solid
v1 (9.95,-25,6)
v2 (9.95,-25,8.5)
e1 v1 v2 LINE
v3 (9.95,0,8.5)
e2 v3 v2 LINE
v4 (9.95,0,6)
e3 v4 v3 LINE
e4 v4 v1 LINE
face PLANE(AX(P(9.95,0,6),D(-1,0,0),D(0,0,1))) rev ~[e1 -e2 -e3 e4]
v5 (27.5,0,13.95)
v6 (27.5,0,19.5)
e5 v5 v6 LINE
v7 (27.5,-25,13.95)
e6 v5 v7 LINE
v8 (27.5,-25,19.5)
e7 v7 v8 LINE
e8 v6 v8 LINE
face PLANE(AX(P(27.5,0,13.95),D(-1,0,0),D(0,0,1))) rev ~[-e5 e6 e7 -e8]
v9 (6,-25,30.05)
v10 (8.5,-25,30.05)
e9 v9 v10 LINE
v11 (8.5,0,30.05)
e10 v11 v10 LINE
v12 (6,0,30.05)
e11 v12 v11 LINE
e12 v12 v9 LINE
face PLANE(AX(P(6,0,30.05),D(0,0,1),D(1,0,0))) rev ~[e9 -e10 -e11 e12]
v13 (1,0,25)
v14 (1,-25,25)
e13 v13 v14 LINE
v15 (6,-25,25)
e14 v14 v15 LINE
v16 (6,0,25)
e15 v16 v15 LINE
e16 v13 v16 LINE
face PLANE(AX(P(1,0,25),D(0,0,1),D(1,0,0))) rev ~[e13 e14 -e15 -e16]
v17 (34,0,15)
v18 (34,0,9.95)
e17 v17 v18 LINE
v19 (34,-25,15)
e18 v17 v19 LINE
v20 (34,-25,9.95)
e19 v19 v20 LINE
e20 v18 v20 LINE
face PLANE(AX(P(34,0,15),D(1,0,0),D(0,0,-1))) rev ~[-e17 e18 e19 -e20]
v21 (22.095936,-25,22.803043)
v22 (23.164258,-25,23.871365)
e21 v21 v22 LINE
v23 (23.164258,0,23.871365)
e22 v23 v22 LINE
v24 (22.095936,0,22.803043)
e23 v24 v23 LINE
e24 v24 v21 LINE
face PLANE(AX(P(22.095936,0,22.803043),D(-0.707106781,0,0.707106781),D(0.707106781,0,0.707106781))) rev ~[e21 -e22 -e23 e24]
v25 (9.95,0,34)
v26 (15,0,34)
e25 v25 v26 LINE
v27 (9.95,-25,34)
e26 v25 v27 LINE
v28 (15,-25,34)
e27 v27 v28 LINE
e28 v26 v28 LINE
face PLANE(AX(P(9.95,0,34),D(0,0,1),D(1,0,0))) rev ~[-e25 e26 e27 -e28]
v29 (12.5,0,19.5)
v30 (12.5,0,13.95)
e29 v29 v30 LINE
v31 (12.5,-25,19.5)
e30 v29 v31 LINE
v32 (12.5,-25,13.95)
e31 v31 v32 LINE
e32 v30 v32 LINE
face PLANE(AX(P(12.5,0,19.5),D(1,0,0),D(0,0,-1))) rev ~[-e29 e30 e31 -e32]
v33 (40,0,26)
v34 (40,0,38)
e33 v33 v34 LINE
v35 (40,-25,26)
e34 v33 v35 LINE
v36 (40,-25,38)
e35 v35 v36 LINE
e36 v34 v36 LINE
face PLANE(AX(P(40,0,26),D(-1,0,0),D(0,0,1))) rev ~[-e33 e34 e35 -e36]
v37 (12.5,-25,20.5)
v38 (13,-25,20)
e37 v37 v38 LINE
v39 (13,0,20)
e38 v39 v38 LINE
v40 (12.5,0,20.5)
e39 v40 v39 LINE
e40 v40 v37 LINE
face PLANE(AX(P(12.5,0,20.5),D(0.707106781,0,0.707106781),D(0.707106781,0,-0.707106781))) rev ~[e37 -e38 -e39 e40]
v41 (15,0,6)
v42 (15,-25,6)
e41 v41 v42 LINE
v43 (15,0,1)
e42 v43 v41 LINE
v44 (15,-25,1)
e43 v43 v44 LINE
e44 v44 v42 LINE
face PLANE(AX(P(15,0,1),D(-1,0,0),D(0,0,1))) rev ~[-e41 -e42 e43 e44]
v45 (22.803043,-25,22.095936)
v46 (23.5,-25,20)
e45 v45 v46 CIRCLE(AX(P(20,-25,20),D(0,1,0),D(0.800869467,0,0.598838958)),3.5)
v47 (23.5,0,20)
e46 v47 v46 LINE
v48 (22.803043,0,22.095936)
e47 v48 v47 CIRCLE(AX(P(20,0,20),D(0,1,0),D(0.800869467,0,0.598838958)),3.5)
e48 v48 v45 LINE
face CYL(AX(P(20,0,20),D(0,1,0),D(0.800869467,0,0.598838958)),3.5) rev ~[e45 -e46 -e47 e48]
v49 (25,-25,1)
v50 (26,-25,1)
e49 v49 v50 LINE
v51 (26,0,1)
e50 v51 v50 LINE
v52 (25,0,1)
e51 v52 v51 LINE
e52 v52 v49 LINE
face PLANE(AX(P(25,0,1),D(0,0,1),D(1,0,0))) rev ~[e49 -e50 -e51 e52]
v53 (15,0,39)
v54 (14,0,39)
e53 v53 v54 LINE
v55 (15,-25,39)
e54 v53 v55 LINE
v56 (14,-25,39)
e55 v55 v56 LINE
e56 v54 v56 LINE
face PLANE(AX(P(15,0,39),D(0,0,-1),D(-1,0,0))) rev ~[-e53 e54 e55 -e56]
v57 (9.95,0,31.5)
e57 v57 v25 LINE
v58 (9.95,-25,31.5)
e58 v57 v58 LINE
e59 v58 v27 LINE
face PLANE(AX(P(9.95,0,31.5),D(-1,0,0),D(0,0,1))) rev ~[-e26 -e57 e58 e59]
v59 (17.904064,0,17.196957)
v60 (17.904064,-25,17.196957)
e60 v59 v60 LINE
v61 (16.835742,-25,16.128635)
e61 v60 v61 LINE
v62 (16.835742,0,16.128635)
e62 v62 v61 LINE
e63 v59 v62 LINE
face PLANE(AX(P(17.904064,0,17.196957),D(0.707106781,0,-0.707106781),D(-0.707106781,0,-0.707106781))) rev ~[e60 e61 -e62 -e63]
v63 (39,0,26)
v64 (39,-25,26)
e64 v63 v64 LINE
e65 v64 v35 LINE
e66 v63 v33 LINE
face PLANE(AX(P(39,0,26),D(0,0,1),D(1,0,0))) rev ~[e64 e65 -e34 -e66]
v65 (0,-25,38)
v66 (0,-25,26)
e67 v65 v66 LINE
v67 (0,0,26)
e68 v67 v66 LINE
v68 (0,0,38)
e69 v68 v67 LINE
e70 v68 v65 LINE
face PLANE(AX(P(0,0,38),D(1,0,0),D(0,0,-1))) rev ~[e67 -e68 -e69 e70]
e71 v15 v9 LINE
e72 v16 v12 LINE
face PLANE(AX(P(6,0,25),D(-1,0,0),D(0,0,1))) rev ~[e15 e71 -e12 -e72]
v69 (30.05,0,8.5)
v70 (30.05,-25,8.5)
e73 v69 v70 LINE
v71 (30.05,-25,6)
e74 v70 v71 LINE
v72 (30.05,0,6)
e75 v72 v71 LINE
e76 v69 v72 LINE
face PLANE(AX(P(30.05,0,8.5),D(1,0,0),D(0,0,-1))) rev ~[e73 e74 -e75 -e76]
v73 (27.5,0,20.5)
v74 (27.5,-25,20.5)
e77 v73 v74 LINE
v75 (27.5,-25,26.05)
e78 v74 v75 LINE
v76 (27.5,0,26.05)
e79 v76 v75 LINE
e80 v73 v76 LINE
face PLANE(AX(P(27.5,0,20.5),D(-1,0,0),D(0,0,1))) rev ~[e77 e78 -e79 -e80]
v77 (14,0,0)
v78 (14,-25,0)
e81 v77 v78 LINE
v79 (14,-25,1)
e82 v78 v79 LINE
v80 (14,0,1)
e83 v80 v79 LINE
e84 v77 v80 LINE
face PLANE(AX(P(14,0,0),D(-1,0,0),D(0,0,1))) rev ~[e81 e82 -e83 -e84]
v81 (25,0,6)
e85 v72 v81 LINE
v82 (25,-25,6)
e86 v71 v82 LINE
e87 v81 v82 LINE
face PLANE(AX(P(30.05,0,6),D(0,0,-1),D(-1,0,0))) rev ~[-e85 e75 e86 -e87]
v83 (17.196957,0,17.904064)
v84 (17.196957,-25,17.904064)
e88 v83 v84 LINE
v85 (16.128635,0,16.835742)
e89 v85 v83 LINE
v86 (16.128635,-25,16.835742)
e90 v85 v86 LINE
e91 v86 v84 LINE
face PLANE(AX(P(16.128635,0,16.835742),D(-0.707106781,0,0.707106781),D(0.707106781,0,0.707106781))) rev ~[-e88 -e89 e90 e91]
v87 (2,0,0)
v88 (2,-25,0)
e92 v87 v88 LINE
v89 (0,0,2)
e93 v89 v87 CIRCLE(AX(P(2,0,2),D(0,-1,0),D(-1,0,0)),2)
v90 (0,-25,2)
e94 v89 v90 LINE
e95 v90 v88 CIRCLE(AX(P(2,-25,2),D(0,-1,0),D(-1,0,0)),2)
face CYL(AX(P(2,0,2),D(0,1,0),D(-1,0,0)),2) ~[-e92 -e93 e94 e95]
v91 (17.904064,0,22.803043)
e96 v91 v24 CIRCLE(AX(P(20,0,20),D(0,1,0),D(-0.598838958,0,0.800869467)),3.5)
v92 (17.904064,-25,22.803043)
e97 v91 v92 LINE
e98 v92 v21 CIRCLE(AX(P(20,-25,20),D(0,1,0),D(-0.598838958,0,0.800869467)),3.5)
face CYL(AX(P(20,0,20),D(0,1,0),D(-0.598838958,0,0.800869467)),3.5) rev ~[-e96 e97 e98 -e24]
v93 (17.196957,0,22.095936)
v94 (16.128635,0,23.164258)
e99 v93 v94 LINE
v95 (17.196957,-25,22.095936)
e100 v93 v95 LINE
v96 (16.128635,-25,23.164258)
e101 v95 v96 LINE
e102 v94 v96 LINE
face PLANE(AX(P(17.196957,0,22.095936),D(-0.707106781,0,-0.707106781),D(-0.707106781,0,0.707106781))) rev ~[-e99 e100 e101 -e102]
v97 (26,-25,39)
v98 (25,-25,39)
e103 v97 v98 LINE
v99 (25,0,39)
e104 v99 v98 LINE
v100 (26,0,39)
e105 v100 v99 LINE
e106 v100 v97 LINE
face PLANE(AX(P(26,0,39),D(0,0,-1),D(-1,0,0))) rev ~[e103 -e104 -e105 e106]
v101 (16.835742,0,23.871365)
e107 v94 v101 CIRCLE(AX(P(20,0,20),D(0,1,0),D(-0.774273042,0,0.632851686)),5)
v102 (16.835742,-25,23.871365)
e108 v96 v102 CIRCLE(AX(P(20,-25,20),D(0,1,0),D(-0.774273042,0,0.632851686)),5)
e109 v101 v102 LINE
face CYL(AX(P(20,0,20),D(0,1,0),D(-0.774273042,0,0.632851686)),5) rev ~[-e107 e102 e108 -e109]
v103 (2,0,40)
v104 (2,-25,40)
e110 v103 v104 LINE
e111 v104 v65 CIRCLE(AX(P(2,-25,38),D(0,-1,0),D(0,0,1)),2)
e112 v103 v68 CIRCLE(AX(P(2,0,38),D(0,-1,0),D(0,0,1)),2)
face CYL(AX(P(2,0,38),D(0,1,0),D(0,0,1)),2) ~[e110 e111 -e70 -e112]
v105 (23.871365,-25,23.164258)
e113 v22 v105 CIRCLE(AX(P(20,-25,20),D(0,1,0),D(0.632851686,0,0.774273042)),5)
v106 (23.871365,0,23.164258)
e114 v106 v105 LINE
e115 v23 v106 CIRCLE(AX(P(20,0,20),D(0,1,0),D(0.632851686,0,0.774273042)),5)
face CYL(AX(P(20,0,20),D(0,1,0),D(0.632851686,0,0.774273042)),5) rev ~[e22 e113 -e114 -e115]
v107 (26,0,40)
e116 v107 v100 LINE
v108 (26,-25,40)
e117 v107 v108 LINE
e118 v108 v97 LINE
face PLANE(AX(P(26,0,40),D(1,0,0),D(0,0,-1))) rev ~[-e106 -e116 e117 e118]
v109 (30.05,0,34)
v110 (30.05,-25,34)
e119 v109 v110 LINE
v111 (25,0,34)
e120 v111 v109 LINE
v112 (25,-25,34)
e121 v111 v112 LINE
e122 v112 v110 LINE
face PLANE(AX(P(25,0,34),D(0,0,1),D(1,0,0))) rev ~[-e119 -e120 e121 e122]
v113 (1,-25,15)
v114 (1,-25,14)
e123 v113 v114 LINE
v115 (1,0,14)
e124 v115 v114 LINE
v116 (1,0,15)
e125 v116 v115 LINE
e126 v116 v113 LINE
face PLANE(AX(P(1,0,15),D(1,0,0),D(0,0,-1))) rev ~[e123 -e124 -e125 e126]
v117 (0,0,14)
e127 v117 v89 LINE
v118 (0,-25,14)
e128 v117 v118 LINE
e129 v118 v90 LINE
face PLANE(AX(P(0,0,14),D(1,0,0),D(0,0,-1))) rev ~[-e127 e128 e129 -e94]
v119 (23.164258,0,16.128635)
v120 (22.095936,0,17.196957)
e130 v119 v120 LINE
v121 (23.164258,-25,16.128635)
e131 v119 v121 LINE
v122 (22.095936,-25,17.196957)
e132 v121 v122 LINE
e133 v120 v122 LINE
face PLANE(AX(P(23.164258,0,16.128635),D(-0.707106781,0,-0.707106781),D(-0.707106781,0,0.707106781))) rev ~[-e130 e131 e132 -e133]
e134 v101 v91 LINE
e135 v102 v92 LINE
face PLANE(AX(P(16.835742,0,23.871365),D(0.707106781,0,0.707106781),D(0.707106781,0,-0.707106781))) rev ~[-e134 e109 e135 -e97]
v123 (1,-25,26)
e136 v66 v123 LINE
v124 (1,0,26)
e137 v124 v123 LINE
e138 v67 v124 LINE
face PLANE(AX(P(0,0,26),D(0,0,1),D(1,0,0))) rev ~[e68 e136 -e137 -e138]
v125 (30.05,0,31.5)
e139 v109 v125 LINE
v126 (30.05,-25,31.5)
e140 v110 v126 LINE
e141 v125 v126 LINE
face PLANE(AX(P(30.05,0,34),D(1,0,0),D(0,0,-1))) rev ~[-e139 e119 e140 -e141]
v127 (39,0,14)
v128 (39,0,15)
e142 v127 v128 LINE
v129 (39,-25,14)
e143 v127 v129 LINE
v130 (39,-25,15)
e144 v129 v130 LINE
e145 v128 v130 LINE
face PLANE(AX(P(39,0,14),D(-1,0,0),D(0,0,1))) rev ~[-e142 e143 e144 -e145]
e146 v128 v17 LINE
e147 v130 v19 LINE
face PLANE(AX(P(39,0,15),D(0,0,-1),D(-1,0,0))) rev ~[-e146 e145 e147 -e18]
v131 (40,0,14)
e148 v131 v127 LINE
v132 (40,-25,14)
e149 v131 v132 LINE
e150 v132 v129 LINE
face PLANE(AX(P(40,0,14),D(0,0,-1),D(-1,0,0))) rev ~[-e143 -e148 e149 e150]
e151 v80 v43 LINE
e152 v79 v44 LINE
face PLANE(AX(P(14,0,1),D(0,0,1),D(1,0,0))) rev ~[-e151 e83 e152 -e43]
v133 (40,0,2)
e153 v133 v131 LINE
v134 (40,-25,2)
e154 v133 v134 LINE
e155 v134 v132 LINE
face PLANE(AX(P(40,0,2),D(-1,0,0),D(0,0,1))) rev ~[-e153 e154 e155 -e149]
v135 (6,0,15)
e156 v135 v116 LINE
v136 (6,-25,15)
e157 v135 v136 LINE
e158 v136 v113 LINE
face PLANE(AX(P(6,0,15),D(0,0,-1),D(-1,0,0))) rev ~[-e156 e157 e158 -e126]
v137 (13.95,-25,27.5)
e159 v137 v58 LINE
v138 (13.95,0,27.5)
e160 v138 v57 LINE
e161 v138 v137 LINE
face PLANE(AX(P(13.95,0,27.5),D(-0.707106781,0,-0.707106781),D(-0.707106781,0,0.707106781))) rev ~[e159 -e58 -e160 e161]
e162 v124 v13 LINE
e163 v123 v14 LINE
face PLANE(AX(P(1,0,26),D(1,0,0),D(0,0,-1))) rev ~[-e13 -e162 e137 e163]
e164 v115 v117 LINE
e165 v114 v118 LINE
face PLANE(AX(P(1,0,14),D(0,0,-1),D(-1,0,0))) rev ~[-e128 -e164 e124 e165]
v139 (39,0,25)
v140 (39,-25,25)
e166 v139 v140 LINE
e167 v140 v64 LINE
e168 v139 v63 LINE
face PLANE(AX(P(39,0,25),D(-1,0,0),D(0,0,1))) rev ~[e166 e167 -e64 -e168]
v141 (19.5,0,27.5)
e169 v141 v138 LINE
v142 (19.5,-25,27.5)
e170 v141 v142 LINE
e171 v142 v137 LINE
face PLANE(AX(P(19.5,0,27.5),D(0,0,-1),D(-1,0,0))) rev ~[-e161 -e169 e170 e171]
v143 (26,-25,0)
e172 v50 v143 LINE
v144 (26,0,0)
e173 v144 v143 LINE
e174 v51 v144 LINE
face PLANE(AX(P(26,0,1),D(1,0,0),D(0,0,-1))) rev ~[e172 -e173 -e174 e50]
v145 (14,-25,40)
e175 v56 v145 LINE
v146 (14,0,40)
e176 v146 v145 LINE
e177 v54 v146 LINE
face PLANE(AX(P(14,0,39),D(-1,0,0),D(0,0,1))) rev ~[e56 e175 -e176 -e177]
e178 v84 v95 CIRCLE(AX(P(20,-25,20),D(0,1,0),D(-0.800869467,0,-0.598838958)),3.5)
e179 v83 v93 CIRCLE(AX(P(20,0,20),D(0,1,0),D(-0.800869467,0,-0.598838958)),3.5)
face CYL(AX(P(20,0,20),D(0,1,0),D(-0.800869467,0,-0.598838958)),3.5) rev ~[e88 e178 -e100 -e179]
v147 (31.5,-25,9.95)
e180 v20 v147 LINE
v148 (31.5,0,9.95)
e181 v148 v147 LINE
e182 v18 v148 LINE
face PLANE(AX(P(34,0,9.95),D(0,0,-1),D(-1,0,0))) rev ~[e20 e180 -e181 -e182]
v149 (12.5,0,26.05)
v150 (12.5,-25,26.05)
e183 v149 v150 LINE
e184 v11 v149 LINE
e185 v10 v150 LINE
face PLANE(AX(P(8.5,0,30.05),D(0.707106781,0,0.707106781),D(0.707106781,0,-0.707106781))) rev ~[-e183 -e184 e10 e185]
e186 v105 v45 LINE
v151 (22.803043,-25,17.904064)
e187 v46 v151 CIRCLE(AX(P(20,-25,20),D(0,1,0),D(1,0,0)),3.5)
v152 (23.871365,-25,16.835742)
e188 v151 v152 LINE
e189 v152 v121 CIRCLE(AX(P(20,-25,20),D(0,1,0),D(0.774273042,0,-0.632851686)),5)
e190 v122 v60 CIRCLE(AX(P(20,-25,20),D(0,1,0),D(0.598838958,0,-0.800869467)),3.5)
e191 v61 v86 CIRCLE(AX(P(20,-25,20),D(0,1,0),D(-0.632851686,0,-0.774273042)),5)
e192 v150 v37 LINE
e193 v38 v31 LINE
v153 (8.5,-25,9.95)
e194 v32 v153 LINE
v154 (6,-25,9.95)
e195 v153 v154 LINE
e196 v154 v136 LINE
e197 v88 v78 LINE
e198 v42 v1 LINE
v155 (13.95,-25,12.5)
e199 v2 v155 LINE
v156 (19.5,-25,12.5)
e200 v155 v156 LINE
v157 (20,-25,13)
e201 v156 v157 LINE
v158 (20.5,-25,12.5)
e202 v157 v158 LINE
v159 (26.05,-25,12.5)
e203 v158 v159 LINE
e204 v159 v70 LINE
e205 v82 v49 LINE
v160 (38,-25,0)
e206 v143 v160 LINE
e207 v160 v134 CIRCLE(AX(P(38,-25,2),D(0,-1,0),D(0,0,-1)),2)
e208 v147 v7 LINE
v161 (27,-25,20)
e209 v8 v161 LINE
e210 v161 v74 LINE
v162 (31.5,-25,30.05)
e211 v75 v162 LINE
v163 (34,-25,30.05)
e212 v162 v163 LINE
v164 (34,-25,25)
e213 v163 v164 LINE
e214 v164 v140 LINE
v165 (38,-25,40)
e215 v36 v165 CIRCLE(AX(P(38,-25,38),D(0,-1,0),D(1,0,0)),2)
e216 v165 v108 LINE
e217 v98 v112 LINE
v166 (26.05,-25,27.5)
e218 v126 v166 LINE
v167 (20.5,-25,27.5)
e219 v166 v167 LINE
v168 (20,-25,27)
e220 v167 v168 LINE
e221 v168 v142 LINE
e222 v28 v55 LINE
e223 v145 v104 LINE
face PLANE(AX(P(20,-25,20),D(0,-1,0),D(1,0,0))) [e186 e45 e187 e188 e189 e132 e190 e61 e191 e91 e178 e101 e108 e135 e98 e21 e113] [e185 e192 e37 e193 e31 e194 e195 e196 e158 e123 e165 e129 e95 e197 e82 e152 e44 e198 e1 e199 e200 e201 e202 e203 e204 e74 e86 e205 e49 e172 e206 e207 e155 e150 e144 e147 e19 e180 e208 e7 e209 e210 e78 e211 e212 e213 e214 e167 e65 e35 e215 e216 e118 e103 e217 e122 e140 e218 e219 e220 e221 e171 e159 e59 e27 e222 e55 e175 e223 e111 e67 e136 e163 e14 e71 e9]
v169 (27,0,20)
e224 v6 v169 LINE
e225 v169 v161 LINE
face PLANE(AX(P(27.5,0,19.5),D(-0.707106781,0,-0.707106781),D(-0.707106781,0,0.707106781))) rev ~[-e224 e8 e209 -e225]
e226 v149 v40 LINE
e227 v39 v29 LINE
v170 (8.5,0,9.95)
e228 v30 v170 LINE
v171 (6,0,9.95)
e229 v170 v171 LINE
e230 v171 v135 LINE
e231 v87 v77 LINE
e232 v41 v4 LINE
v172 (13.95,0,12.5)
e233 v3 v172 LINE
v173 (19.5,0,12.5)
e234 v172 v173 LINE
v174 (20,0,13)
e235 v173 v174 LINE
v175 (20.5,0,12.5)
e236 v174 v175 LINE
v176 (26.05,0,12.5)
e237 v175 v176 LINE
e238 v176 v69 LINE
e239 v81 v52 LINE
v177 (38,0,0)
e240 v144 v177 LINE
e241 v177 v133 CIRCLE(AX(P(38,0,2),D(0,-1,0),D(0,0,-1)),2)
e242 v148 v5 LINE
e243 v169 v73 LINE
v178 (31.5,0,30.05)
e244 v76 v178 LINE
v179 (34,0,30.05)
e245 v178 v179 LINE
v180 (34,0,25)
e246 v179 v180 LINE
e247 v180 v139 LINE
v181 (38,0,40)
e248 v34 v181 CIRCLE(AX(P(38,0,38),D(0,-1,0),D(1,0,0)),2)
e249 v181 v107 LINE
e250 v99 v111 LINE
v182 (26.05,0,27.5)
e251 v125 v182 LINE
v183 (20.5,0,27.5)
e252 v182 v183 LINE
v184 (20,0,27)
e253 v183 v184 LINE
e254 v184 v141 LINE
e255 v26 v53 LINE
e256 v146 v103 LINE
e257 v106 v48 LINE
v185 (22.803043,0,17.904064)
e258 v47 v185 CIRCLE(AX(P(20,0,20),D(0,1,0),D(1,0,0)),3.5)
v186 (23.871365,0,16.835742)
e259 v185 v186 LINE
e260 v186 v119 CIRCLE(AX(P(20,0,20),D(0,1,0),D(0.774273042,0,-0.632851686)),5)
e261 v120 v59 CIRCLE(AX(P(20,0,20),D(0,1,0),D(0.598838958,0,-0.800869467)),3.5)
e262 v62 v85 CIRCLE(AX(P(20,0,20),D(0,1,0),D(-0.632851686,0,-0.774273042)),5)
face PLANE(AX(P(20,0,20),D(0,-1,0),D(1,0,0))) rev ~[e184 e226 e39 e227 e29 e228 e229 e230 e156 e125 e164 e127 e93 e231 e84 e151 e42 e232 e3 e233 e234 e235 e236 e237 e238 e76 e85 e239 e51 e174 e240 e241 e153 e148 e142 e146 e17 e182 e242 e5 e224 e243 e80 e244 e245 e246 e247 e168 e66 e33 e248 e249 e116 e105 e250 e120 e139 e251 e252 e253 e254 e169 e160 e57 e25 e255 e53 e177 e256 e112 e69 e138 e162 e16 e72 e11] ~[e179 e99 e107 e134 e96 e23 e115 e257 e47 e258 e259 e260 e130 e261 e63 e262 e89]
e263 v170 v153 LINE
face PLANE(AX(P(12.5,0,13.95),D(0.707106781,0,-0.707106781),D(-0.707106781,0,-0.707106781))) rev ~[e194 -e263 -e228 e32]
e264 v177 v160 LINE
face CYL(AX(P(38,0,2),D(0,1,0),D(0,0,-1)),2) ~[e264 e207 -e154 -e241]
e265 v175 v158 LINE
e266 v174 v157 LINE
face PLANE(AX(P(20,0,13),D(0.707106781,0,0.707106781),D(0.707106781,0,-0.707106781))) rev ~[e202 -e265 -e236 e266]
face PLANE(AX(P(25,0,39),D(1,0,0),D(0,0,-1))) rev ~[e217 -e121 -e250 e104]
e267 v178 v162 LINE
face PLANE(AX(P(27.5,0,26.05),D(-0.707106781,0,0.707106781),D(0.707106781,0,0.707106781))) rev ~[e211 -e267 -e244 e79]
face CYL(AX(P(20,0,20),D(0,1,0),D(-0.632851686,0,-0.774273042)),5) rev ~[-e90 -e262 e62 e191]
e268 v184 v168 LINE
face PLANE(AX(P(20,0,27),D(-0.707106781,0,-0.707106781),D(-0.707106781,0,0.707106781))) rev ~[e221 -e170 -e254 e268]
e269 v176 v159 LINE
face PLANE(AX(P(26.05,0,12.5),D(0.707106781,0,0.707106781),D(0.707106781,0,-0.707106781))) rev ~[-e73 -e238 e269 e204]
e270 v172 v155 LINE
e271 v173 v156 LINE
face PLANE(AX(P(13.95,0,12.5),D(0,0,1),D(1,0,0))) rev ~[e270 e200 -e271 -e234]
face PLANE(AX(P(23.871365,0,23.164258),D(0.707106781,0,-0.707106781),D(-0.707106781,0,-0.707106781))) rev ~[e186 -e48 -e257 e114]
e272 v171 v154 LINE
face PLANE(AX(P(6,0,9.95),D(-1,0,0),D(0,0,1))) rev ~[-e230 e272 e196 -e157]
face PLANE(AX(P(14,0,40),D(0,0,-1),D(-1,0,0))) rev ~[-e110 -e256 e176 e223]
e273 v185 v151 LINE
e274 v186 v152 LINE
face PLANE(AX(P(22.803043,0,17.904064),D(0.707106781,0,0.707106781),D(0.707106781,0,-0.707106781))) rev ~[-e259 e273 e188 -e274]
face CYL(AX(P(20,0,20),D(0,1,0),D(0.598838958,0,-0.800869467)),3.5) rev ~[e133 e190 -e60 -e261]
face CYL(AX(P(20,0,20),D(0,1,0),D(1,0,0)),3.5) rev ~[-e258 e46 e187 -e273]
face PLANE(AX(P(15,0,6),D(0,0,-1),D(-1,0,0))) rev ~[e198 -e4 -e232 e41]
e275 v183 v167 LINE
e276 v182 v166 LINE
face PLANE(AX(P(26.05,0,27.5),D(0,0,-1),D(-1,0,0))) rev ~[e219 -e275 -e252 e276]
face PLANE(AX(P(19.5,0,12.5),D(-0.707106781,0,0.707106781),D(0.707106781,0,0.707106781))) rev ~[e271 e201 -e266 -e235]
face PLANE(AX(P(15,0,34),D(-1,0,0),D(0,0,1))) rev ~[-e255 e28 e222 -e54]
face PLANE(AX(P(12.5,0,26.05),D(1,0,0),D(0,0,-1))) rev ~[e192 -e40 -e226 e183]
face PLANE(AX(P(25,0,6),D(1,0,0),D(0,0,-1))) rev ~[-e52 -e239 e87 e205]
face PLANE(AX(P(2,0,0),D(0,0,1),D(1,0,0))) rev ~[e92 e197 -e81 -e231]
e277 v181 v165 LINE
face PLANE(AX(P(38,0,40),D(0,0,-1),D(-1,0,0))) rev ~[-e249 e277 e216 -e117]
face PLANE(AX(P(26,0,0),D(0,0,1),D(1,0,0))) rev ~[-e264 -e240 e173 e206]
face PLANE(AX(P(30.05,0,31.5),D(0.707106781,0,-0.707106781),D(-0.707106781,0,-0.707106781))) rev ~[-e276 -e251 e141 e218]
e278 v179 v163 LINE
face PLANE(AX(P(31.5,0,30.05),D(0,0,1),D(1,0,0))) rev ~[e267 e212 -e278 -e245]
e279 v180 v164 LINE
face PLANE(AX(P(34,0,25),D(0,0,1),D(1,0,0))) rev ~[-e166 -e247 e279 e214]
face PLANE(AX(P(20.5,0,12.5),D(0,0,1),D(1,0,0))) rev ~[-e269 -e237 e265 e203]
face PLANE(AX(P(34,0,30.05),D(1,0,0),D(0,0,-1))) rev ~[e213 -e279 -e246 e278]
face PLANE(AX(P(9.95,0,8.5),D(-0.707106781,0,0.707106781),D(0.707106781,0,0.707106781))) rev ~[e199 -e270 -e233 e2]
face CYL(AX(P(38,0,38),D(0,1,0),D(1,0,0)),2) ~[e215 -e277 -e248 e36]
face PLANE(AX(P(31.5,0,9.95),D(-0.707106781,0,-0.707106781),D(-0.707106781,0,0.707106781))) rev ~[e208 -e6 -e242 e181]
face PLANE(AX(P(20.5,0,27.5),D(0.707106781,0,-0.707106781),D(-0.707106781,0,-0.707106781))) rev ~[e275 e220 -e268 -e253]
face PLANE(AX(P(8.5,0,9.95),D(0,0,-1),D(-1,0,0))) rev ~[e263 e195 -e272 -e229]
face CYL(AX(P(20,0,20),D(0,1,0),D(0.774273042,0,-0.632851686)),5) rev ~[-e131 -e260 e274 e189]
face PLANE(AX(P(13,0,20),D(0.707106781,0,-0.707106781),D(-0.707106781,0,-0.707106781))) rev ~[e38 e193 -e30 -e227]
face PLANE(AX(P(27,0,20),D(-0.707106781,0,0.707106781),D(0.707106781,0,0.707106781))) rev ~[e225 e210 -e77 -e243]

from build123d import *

# Parameters (mm, degrees)
F1_DEPTH = 25


with BuildPart() as f1:
    # F0 (on Front) → F1 (new body)
    with BuildSketch(Plane.XZ):
        with BuildLine():
            ThreePointArc((0, 2), (0.5857864376, 0.5857864376), (2, 0))
            Line((2, 0), (14, 0))
            Line((14, 0), (14, 1))
            Line((14, 1), (15, 1))
            Line((15, 1), (15, 6))
            Line((15, 6), (9.95, 6))
            Line((9.95, 6), (9.95, 8.5))
            Line((9.95, 8.5), (13.95, 12.5))
            Line((13.95, 12.5), (19.5, 12.5))
            Line((19.5, 12.5), (20, 13))
            Line((20, 13), (20.5, 12.5))
            Line((20.5, 12.5), (26.05, 12.5))
            Line((26.05, 12.5), (30.05, 8.5))
            Line((30.05, 8.5), (30.05, 6))
            Line((30.05, 6), (25, 6))
            Line((25, 6), (25, 1))
            Line((25, 1), (26, 1))
            Line((26, 1), (26, 0))
            Line((26, 0), (38, 0))
            ThreePointArc((38, 0), (39.4142135624, 0.5857864376), (40, 2))
            Line((40, 2), (40, 14))
            Line((40, 14), (39, 14))
            Line((39, 14), (39, 15))
            Line((39, 15), (34, 15))
            Line((34, 15), (34, 9.95))
            Line((34, 9.95), (31.5, 9.95))
            Line((31.5, 9.95), (27.5, 13.95))
            Line((27.5, 13.95), (27.5, 19.5))
            Line((27.5, 19.5), (27, 20))
            Line((27, 20), (27.5, 20.5))
            Line((27.5, 20.5), (27.5, 26.05))
            Line((27.5, 26.05), (31.5, 30.05))
            Line((31.5, 30.05), (34, 30.05))
            Line((34, 30.05), (34, 25))
            Line((34, 25), (39, 25))
            Line((39, 25), (39, 26))
            Line((39, 26), (40, 26))
            Line((40, 26), (40, 38))
            ThreePointArc((40, 38), (39.4142135624, 39.4142135624), (38, 40))
            Line((38, 40), (26, 40))
            Line((26, 40), (26, 39))
            Line((26, 39), (25, 39))
            Line((25, 39), (25, 34))
            Line((25, 34), (30.05, 34))
            Line((30.05, 34), (30.05, 31.5))
            Line((30.05, 31.5), (26.05, 27.5))
            Line((26.05, 27.5), (20.5, 27.5))
            Line((20.5, 27.5), (20, 27))
            Line((20, 27), (19.5, 27.5))
            Line((19.5, 27.5), (13.95, 27.5))
            Line((13.95, 27.5), (9.95, 31.5))
            Line((9.95, 31.5), (9.95, 34))
            Line((9.95, 34), (15, 34))
            Line((15, 34), (15, 39))
            Line((15, 39), (14, 39))
            Line((14, 39), (14, 40))
            Line((14, 40), (2, 40))
            ThreePointArc((2, 40), (0.5857864376, 39.4142135624), (0, 38))
            Line((0, 38), (0, 26))
            Line((0, 26), (1, 26))
            Line((1, 26), (1, 25))
            Line((1, 25), (6, 25))
            Line((6, 25), (6, 30.05))
            Line((6, 30.05), (8.5, 30.05))
            Line((8.5, 30.05), (12.5, 26.05))
            Line((12.5, 26.05), (12.5, 20.5))
            Line((12.5, 20.5), (13, 20))
            Line((13, 20), (12.5, 19.5))
            Line((12.5, 19.5), (12.5, 13.95))
            Line((12.5, 13.95), (8.5, 9.95))
            Line((8.5, 9.95), (6, 9.95))
            Line((6, 9.95), (6, 15))
            Line((6, 15), (1, 15))
            Line((1, 15), (1, 14))
            Line((1, 14), (0, 14))
            Line((0, 14), (0, 2))
        make_face()
        with BuildLine():
            ThreePointArc((23.8713652105, 23.1642584293), (24.7093962486, 21.6797580105), (25, 20))
            ThreePointArc((25, 20), (24.7093962486, 18.3202419895), (23.8713652105, 16.8357415707))
            ThreePointArc((23.8713652105, 16.8357415707), (23.5355339059, 16.4644660941), (23.1642584293, 16.1286347895))
            ThreePointArc((23.1642584293, 16.1286347895), (20, 15), (16.8357415707, 16.1286347895))
            ThreePointArc((16.8357415707, 16.1286347895), (16.4644660941, 16.4644660941), (16.1286347895, 16.8357415707))
            ThreePointArc((16.1286347895, 16.8357415707), (15, 20), (16.1286347895, 23.1642584293))
            ThreePointArc((16.1286347895, 23.1642584293), (16.4644660941, 23.5355339059), (16.8357415707, 23.8713652105))
            ThreePointArc((16.8357415707, 23.8713652105), (20, 25), (23.1642584293, 23.8713652105))
            ThreePointArc((23.1642584293, 23.8713652105), (23.5355339059, 23.5355339059), (23.8713652105, 23.1642584293))
        make_face(mode=Mode.SUBTRACT)
        with BuildLine():
            Line((17.1969568666, 22.0959363522), (16.1286347895, 23.1642584293))
            ThreePointArc((16.1286347895, 23.1642584293), (15, 20), (16.1286347895, 16.8357415707))
            Line((16.1286347895, 16.8357415707), (17.1969568666, 17.9040636478))
            ThreePointArc((17.1969568666, 17.9040636478), (16.5, 20), (17.1969568666, 22.0959363522))
        make_face()
        with BuildLine():
            ThreePointArc((16.8357415707, 16.1286347895), (20, 15), (23.1642584293, 16.1286347895))
            Line((23.1642584293, 16.1286347895), (22.0959363522, 17.1969568666))
            ThreePointArc((22.0959363522, 17.1969568666), (20, 16.5), (17.9040636478, 17.1969568666))
            Line((17.9040636478, 17.1969568666), (16.8357415707, 16.1286347895))
        make_face()
        with BuildLine():
            ThreePointArc((23.8713652105, 16.8357415707), (24.7093962486, 18.3202419895), (25, 20))
            ThreePointArc((25, 20), (24.7093962486, 21.6797580105), (23.8713652105, 23.1642584293))
            Line((23.8713652105, 23.1642584293), (22.8030431334, 22.0959363522))
            ThreePointArc((22.8030431334, 22.0959363522), (23.3211933824, 21.1043887525), (23.5, 20))
            ThreePointArc((23.5, 20), (23.3211933824, 18.8956112475), (22.8030431334, 17.9040636478))
            Line((22.8030431334, 17.9040636478), (23.8713652105, 16.8357415707))
        make_face()
        with BuildLine():
            Line((22.0959363522, 22.8030431334), (23.1642584293, 23.8713652105))
            ThreePointArc((23.1642584293, 23.8713652105), (20, 25), (16.8357415707, 23.8713652105))
            Line((16.8357415707, 23.8713652105), (17.9040636478, 22.8030431334))
            ThreePointArc((17.9040636478, 22.8030431334), (20, 23.5), (22.0959363522, 22.8030431334))
        make_face()
    extrude(amount=F1_DEPTH)


solid = f1.part
